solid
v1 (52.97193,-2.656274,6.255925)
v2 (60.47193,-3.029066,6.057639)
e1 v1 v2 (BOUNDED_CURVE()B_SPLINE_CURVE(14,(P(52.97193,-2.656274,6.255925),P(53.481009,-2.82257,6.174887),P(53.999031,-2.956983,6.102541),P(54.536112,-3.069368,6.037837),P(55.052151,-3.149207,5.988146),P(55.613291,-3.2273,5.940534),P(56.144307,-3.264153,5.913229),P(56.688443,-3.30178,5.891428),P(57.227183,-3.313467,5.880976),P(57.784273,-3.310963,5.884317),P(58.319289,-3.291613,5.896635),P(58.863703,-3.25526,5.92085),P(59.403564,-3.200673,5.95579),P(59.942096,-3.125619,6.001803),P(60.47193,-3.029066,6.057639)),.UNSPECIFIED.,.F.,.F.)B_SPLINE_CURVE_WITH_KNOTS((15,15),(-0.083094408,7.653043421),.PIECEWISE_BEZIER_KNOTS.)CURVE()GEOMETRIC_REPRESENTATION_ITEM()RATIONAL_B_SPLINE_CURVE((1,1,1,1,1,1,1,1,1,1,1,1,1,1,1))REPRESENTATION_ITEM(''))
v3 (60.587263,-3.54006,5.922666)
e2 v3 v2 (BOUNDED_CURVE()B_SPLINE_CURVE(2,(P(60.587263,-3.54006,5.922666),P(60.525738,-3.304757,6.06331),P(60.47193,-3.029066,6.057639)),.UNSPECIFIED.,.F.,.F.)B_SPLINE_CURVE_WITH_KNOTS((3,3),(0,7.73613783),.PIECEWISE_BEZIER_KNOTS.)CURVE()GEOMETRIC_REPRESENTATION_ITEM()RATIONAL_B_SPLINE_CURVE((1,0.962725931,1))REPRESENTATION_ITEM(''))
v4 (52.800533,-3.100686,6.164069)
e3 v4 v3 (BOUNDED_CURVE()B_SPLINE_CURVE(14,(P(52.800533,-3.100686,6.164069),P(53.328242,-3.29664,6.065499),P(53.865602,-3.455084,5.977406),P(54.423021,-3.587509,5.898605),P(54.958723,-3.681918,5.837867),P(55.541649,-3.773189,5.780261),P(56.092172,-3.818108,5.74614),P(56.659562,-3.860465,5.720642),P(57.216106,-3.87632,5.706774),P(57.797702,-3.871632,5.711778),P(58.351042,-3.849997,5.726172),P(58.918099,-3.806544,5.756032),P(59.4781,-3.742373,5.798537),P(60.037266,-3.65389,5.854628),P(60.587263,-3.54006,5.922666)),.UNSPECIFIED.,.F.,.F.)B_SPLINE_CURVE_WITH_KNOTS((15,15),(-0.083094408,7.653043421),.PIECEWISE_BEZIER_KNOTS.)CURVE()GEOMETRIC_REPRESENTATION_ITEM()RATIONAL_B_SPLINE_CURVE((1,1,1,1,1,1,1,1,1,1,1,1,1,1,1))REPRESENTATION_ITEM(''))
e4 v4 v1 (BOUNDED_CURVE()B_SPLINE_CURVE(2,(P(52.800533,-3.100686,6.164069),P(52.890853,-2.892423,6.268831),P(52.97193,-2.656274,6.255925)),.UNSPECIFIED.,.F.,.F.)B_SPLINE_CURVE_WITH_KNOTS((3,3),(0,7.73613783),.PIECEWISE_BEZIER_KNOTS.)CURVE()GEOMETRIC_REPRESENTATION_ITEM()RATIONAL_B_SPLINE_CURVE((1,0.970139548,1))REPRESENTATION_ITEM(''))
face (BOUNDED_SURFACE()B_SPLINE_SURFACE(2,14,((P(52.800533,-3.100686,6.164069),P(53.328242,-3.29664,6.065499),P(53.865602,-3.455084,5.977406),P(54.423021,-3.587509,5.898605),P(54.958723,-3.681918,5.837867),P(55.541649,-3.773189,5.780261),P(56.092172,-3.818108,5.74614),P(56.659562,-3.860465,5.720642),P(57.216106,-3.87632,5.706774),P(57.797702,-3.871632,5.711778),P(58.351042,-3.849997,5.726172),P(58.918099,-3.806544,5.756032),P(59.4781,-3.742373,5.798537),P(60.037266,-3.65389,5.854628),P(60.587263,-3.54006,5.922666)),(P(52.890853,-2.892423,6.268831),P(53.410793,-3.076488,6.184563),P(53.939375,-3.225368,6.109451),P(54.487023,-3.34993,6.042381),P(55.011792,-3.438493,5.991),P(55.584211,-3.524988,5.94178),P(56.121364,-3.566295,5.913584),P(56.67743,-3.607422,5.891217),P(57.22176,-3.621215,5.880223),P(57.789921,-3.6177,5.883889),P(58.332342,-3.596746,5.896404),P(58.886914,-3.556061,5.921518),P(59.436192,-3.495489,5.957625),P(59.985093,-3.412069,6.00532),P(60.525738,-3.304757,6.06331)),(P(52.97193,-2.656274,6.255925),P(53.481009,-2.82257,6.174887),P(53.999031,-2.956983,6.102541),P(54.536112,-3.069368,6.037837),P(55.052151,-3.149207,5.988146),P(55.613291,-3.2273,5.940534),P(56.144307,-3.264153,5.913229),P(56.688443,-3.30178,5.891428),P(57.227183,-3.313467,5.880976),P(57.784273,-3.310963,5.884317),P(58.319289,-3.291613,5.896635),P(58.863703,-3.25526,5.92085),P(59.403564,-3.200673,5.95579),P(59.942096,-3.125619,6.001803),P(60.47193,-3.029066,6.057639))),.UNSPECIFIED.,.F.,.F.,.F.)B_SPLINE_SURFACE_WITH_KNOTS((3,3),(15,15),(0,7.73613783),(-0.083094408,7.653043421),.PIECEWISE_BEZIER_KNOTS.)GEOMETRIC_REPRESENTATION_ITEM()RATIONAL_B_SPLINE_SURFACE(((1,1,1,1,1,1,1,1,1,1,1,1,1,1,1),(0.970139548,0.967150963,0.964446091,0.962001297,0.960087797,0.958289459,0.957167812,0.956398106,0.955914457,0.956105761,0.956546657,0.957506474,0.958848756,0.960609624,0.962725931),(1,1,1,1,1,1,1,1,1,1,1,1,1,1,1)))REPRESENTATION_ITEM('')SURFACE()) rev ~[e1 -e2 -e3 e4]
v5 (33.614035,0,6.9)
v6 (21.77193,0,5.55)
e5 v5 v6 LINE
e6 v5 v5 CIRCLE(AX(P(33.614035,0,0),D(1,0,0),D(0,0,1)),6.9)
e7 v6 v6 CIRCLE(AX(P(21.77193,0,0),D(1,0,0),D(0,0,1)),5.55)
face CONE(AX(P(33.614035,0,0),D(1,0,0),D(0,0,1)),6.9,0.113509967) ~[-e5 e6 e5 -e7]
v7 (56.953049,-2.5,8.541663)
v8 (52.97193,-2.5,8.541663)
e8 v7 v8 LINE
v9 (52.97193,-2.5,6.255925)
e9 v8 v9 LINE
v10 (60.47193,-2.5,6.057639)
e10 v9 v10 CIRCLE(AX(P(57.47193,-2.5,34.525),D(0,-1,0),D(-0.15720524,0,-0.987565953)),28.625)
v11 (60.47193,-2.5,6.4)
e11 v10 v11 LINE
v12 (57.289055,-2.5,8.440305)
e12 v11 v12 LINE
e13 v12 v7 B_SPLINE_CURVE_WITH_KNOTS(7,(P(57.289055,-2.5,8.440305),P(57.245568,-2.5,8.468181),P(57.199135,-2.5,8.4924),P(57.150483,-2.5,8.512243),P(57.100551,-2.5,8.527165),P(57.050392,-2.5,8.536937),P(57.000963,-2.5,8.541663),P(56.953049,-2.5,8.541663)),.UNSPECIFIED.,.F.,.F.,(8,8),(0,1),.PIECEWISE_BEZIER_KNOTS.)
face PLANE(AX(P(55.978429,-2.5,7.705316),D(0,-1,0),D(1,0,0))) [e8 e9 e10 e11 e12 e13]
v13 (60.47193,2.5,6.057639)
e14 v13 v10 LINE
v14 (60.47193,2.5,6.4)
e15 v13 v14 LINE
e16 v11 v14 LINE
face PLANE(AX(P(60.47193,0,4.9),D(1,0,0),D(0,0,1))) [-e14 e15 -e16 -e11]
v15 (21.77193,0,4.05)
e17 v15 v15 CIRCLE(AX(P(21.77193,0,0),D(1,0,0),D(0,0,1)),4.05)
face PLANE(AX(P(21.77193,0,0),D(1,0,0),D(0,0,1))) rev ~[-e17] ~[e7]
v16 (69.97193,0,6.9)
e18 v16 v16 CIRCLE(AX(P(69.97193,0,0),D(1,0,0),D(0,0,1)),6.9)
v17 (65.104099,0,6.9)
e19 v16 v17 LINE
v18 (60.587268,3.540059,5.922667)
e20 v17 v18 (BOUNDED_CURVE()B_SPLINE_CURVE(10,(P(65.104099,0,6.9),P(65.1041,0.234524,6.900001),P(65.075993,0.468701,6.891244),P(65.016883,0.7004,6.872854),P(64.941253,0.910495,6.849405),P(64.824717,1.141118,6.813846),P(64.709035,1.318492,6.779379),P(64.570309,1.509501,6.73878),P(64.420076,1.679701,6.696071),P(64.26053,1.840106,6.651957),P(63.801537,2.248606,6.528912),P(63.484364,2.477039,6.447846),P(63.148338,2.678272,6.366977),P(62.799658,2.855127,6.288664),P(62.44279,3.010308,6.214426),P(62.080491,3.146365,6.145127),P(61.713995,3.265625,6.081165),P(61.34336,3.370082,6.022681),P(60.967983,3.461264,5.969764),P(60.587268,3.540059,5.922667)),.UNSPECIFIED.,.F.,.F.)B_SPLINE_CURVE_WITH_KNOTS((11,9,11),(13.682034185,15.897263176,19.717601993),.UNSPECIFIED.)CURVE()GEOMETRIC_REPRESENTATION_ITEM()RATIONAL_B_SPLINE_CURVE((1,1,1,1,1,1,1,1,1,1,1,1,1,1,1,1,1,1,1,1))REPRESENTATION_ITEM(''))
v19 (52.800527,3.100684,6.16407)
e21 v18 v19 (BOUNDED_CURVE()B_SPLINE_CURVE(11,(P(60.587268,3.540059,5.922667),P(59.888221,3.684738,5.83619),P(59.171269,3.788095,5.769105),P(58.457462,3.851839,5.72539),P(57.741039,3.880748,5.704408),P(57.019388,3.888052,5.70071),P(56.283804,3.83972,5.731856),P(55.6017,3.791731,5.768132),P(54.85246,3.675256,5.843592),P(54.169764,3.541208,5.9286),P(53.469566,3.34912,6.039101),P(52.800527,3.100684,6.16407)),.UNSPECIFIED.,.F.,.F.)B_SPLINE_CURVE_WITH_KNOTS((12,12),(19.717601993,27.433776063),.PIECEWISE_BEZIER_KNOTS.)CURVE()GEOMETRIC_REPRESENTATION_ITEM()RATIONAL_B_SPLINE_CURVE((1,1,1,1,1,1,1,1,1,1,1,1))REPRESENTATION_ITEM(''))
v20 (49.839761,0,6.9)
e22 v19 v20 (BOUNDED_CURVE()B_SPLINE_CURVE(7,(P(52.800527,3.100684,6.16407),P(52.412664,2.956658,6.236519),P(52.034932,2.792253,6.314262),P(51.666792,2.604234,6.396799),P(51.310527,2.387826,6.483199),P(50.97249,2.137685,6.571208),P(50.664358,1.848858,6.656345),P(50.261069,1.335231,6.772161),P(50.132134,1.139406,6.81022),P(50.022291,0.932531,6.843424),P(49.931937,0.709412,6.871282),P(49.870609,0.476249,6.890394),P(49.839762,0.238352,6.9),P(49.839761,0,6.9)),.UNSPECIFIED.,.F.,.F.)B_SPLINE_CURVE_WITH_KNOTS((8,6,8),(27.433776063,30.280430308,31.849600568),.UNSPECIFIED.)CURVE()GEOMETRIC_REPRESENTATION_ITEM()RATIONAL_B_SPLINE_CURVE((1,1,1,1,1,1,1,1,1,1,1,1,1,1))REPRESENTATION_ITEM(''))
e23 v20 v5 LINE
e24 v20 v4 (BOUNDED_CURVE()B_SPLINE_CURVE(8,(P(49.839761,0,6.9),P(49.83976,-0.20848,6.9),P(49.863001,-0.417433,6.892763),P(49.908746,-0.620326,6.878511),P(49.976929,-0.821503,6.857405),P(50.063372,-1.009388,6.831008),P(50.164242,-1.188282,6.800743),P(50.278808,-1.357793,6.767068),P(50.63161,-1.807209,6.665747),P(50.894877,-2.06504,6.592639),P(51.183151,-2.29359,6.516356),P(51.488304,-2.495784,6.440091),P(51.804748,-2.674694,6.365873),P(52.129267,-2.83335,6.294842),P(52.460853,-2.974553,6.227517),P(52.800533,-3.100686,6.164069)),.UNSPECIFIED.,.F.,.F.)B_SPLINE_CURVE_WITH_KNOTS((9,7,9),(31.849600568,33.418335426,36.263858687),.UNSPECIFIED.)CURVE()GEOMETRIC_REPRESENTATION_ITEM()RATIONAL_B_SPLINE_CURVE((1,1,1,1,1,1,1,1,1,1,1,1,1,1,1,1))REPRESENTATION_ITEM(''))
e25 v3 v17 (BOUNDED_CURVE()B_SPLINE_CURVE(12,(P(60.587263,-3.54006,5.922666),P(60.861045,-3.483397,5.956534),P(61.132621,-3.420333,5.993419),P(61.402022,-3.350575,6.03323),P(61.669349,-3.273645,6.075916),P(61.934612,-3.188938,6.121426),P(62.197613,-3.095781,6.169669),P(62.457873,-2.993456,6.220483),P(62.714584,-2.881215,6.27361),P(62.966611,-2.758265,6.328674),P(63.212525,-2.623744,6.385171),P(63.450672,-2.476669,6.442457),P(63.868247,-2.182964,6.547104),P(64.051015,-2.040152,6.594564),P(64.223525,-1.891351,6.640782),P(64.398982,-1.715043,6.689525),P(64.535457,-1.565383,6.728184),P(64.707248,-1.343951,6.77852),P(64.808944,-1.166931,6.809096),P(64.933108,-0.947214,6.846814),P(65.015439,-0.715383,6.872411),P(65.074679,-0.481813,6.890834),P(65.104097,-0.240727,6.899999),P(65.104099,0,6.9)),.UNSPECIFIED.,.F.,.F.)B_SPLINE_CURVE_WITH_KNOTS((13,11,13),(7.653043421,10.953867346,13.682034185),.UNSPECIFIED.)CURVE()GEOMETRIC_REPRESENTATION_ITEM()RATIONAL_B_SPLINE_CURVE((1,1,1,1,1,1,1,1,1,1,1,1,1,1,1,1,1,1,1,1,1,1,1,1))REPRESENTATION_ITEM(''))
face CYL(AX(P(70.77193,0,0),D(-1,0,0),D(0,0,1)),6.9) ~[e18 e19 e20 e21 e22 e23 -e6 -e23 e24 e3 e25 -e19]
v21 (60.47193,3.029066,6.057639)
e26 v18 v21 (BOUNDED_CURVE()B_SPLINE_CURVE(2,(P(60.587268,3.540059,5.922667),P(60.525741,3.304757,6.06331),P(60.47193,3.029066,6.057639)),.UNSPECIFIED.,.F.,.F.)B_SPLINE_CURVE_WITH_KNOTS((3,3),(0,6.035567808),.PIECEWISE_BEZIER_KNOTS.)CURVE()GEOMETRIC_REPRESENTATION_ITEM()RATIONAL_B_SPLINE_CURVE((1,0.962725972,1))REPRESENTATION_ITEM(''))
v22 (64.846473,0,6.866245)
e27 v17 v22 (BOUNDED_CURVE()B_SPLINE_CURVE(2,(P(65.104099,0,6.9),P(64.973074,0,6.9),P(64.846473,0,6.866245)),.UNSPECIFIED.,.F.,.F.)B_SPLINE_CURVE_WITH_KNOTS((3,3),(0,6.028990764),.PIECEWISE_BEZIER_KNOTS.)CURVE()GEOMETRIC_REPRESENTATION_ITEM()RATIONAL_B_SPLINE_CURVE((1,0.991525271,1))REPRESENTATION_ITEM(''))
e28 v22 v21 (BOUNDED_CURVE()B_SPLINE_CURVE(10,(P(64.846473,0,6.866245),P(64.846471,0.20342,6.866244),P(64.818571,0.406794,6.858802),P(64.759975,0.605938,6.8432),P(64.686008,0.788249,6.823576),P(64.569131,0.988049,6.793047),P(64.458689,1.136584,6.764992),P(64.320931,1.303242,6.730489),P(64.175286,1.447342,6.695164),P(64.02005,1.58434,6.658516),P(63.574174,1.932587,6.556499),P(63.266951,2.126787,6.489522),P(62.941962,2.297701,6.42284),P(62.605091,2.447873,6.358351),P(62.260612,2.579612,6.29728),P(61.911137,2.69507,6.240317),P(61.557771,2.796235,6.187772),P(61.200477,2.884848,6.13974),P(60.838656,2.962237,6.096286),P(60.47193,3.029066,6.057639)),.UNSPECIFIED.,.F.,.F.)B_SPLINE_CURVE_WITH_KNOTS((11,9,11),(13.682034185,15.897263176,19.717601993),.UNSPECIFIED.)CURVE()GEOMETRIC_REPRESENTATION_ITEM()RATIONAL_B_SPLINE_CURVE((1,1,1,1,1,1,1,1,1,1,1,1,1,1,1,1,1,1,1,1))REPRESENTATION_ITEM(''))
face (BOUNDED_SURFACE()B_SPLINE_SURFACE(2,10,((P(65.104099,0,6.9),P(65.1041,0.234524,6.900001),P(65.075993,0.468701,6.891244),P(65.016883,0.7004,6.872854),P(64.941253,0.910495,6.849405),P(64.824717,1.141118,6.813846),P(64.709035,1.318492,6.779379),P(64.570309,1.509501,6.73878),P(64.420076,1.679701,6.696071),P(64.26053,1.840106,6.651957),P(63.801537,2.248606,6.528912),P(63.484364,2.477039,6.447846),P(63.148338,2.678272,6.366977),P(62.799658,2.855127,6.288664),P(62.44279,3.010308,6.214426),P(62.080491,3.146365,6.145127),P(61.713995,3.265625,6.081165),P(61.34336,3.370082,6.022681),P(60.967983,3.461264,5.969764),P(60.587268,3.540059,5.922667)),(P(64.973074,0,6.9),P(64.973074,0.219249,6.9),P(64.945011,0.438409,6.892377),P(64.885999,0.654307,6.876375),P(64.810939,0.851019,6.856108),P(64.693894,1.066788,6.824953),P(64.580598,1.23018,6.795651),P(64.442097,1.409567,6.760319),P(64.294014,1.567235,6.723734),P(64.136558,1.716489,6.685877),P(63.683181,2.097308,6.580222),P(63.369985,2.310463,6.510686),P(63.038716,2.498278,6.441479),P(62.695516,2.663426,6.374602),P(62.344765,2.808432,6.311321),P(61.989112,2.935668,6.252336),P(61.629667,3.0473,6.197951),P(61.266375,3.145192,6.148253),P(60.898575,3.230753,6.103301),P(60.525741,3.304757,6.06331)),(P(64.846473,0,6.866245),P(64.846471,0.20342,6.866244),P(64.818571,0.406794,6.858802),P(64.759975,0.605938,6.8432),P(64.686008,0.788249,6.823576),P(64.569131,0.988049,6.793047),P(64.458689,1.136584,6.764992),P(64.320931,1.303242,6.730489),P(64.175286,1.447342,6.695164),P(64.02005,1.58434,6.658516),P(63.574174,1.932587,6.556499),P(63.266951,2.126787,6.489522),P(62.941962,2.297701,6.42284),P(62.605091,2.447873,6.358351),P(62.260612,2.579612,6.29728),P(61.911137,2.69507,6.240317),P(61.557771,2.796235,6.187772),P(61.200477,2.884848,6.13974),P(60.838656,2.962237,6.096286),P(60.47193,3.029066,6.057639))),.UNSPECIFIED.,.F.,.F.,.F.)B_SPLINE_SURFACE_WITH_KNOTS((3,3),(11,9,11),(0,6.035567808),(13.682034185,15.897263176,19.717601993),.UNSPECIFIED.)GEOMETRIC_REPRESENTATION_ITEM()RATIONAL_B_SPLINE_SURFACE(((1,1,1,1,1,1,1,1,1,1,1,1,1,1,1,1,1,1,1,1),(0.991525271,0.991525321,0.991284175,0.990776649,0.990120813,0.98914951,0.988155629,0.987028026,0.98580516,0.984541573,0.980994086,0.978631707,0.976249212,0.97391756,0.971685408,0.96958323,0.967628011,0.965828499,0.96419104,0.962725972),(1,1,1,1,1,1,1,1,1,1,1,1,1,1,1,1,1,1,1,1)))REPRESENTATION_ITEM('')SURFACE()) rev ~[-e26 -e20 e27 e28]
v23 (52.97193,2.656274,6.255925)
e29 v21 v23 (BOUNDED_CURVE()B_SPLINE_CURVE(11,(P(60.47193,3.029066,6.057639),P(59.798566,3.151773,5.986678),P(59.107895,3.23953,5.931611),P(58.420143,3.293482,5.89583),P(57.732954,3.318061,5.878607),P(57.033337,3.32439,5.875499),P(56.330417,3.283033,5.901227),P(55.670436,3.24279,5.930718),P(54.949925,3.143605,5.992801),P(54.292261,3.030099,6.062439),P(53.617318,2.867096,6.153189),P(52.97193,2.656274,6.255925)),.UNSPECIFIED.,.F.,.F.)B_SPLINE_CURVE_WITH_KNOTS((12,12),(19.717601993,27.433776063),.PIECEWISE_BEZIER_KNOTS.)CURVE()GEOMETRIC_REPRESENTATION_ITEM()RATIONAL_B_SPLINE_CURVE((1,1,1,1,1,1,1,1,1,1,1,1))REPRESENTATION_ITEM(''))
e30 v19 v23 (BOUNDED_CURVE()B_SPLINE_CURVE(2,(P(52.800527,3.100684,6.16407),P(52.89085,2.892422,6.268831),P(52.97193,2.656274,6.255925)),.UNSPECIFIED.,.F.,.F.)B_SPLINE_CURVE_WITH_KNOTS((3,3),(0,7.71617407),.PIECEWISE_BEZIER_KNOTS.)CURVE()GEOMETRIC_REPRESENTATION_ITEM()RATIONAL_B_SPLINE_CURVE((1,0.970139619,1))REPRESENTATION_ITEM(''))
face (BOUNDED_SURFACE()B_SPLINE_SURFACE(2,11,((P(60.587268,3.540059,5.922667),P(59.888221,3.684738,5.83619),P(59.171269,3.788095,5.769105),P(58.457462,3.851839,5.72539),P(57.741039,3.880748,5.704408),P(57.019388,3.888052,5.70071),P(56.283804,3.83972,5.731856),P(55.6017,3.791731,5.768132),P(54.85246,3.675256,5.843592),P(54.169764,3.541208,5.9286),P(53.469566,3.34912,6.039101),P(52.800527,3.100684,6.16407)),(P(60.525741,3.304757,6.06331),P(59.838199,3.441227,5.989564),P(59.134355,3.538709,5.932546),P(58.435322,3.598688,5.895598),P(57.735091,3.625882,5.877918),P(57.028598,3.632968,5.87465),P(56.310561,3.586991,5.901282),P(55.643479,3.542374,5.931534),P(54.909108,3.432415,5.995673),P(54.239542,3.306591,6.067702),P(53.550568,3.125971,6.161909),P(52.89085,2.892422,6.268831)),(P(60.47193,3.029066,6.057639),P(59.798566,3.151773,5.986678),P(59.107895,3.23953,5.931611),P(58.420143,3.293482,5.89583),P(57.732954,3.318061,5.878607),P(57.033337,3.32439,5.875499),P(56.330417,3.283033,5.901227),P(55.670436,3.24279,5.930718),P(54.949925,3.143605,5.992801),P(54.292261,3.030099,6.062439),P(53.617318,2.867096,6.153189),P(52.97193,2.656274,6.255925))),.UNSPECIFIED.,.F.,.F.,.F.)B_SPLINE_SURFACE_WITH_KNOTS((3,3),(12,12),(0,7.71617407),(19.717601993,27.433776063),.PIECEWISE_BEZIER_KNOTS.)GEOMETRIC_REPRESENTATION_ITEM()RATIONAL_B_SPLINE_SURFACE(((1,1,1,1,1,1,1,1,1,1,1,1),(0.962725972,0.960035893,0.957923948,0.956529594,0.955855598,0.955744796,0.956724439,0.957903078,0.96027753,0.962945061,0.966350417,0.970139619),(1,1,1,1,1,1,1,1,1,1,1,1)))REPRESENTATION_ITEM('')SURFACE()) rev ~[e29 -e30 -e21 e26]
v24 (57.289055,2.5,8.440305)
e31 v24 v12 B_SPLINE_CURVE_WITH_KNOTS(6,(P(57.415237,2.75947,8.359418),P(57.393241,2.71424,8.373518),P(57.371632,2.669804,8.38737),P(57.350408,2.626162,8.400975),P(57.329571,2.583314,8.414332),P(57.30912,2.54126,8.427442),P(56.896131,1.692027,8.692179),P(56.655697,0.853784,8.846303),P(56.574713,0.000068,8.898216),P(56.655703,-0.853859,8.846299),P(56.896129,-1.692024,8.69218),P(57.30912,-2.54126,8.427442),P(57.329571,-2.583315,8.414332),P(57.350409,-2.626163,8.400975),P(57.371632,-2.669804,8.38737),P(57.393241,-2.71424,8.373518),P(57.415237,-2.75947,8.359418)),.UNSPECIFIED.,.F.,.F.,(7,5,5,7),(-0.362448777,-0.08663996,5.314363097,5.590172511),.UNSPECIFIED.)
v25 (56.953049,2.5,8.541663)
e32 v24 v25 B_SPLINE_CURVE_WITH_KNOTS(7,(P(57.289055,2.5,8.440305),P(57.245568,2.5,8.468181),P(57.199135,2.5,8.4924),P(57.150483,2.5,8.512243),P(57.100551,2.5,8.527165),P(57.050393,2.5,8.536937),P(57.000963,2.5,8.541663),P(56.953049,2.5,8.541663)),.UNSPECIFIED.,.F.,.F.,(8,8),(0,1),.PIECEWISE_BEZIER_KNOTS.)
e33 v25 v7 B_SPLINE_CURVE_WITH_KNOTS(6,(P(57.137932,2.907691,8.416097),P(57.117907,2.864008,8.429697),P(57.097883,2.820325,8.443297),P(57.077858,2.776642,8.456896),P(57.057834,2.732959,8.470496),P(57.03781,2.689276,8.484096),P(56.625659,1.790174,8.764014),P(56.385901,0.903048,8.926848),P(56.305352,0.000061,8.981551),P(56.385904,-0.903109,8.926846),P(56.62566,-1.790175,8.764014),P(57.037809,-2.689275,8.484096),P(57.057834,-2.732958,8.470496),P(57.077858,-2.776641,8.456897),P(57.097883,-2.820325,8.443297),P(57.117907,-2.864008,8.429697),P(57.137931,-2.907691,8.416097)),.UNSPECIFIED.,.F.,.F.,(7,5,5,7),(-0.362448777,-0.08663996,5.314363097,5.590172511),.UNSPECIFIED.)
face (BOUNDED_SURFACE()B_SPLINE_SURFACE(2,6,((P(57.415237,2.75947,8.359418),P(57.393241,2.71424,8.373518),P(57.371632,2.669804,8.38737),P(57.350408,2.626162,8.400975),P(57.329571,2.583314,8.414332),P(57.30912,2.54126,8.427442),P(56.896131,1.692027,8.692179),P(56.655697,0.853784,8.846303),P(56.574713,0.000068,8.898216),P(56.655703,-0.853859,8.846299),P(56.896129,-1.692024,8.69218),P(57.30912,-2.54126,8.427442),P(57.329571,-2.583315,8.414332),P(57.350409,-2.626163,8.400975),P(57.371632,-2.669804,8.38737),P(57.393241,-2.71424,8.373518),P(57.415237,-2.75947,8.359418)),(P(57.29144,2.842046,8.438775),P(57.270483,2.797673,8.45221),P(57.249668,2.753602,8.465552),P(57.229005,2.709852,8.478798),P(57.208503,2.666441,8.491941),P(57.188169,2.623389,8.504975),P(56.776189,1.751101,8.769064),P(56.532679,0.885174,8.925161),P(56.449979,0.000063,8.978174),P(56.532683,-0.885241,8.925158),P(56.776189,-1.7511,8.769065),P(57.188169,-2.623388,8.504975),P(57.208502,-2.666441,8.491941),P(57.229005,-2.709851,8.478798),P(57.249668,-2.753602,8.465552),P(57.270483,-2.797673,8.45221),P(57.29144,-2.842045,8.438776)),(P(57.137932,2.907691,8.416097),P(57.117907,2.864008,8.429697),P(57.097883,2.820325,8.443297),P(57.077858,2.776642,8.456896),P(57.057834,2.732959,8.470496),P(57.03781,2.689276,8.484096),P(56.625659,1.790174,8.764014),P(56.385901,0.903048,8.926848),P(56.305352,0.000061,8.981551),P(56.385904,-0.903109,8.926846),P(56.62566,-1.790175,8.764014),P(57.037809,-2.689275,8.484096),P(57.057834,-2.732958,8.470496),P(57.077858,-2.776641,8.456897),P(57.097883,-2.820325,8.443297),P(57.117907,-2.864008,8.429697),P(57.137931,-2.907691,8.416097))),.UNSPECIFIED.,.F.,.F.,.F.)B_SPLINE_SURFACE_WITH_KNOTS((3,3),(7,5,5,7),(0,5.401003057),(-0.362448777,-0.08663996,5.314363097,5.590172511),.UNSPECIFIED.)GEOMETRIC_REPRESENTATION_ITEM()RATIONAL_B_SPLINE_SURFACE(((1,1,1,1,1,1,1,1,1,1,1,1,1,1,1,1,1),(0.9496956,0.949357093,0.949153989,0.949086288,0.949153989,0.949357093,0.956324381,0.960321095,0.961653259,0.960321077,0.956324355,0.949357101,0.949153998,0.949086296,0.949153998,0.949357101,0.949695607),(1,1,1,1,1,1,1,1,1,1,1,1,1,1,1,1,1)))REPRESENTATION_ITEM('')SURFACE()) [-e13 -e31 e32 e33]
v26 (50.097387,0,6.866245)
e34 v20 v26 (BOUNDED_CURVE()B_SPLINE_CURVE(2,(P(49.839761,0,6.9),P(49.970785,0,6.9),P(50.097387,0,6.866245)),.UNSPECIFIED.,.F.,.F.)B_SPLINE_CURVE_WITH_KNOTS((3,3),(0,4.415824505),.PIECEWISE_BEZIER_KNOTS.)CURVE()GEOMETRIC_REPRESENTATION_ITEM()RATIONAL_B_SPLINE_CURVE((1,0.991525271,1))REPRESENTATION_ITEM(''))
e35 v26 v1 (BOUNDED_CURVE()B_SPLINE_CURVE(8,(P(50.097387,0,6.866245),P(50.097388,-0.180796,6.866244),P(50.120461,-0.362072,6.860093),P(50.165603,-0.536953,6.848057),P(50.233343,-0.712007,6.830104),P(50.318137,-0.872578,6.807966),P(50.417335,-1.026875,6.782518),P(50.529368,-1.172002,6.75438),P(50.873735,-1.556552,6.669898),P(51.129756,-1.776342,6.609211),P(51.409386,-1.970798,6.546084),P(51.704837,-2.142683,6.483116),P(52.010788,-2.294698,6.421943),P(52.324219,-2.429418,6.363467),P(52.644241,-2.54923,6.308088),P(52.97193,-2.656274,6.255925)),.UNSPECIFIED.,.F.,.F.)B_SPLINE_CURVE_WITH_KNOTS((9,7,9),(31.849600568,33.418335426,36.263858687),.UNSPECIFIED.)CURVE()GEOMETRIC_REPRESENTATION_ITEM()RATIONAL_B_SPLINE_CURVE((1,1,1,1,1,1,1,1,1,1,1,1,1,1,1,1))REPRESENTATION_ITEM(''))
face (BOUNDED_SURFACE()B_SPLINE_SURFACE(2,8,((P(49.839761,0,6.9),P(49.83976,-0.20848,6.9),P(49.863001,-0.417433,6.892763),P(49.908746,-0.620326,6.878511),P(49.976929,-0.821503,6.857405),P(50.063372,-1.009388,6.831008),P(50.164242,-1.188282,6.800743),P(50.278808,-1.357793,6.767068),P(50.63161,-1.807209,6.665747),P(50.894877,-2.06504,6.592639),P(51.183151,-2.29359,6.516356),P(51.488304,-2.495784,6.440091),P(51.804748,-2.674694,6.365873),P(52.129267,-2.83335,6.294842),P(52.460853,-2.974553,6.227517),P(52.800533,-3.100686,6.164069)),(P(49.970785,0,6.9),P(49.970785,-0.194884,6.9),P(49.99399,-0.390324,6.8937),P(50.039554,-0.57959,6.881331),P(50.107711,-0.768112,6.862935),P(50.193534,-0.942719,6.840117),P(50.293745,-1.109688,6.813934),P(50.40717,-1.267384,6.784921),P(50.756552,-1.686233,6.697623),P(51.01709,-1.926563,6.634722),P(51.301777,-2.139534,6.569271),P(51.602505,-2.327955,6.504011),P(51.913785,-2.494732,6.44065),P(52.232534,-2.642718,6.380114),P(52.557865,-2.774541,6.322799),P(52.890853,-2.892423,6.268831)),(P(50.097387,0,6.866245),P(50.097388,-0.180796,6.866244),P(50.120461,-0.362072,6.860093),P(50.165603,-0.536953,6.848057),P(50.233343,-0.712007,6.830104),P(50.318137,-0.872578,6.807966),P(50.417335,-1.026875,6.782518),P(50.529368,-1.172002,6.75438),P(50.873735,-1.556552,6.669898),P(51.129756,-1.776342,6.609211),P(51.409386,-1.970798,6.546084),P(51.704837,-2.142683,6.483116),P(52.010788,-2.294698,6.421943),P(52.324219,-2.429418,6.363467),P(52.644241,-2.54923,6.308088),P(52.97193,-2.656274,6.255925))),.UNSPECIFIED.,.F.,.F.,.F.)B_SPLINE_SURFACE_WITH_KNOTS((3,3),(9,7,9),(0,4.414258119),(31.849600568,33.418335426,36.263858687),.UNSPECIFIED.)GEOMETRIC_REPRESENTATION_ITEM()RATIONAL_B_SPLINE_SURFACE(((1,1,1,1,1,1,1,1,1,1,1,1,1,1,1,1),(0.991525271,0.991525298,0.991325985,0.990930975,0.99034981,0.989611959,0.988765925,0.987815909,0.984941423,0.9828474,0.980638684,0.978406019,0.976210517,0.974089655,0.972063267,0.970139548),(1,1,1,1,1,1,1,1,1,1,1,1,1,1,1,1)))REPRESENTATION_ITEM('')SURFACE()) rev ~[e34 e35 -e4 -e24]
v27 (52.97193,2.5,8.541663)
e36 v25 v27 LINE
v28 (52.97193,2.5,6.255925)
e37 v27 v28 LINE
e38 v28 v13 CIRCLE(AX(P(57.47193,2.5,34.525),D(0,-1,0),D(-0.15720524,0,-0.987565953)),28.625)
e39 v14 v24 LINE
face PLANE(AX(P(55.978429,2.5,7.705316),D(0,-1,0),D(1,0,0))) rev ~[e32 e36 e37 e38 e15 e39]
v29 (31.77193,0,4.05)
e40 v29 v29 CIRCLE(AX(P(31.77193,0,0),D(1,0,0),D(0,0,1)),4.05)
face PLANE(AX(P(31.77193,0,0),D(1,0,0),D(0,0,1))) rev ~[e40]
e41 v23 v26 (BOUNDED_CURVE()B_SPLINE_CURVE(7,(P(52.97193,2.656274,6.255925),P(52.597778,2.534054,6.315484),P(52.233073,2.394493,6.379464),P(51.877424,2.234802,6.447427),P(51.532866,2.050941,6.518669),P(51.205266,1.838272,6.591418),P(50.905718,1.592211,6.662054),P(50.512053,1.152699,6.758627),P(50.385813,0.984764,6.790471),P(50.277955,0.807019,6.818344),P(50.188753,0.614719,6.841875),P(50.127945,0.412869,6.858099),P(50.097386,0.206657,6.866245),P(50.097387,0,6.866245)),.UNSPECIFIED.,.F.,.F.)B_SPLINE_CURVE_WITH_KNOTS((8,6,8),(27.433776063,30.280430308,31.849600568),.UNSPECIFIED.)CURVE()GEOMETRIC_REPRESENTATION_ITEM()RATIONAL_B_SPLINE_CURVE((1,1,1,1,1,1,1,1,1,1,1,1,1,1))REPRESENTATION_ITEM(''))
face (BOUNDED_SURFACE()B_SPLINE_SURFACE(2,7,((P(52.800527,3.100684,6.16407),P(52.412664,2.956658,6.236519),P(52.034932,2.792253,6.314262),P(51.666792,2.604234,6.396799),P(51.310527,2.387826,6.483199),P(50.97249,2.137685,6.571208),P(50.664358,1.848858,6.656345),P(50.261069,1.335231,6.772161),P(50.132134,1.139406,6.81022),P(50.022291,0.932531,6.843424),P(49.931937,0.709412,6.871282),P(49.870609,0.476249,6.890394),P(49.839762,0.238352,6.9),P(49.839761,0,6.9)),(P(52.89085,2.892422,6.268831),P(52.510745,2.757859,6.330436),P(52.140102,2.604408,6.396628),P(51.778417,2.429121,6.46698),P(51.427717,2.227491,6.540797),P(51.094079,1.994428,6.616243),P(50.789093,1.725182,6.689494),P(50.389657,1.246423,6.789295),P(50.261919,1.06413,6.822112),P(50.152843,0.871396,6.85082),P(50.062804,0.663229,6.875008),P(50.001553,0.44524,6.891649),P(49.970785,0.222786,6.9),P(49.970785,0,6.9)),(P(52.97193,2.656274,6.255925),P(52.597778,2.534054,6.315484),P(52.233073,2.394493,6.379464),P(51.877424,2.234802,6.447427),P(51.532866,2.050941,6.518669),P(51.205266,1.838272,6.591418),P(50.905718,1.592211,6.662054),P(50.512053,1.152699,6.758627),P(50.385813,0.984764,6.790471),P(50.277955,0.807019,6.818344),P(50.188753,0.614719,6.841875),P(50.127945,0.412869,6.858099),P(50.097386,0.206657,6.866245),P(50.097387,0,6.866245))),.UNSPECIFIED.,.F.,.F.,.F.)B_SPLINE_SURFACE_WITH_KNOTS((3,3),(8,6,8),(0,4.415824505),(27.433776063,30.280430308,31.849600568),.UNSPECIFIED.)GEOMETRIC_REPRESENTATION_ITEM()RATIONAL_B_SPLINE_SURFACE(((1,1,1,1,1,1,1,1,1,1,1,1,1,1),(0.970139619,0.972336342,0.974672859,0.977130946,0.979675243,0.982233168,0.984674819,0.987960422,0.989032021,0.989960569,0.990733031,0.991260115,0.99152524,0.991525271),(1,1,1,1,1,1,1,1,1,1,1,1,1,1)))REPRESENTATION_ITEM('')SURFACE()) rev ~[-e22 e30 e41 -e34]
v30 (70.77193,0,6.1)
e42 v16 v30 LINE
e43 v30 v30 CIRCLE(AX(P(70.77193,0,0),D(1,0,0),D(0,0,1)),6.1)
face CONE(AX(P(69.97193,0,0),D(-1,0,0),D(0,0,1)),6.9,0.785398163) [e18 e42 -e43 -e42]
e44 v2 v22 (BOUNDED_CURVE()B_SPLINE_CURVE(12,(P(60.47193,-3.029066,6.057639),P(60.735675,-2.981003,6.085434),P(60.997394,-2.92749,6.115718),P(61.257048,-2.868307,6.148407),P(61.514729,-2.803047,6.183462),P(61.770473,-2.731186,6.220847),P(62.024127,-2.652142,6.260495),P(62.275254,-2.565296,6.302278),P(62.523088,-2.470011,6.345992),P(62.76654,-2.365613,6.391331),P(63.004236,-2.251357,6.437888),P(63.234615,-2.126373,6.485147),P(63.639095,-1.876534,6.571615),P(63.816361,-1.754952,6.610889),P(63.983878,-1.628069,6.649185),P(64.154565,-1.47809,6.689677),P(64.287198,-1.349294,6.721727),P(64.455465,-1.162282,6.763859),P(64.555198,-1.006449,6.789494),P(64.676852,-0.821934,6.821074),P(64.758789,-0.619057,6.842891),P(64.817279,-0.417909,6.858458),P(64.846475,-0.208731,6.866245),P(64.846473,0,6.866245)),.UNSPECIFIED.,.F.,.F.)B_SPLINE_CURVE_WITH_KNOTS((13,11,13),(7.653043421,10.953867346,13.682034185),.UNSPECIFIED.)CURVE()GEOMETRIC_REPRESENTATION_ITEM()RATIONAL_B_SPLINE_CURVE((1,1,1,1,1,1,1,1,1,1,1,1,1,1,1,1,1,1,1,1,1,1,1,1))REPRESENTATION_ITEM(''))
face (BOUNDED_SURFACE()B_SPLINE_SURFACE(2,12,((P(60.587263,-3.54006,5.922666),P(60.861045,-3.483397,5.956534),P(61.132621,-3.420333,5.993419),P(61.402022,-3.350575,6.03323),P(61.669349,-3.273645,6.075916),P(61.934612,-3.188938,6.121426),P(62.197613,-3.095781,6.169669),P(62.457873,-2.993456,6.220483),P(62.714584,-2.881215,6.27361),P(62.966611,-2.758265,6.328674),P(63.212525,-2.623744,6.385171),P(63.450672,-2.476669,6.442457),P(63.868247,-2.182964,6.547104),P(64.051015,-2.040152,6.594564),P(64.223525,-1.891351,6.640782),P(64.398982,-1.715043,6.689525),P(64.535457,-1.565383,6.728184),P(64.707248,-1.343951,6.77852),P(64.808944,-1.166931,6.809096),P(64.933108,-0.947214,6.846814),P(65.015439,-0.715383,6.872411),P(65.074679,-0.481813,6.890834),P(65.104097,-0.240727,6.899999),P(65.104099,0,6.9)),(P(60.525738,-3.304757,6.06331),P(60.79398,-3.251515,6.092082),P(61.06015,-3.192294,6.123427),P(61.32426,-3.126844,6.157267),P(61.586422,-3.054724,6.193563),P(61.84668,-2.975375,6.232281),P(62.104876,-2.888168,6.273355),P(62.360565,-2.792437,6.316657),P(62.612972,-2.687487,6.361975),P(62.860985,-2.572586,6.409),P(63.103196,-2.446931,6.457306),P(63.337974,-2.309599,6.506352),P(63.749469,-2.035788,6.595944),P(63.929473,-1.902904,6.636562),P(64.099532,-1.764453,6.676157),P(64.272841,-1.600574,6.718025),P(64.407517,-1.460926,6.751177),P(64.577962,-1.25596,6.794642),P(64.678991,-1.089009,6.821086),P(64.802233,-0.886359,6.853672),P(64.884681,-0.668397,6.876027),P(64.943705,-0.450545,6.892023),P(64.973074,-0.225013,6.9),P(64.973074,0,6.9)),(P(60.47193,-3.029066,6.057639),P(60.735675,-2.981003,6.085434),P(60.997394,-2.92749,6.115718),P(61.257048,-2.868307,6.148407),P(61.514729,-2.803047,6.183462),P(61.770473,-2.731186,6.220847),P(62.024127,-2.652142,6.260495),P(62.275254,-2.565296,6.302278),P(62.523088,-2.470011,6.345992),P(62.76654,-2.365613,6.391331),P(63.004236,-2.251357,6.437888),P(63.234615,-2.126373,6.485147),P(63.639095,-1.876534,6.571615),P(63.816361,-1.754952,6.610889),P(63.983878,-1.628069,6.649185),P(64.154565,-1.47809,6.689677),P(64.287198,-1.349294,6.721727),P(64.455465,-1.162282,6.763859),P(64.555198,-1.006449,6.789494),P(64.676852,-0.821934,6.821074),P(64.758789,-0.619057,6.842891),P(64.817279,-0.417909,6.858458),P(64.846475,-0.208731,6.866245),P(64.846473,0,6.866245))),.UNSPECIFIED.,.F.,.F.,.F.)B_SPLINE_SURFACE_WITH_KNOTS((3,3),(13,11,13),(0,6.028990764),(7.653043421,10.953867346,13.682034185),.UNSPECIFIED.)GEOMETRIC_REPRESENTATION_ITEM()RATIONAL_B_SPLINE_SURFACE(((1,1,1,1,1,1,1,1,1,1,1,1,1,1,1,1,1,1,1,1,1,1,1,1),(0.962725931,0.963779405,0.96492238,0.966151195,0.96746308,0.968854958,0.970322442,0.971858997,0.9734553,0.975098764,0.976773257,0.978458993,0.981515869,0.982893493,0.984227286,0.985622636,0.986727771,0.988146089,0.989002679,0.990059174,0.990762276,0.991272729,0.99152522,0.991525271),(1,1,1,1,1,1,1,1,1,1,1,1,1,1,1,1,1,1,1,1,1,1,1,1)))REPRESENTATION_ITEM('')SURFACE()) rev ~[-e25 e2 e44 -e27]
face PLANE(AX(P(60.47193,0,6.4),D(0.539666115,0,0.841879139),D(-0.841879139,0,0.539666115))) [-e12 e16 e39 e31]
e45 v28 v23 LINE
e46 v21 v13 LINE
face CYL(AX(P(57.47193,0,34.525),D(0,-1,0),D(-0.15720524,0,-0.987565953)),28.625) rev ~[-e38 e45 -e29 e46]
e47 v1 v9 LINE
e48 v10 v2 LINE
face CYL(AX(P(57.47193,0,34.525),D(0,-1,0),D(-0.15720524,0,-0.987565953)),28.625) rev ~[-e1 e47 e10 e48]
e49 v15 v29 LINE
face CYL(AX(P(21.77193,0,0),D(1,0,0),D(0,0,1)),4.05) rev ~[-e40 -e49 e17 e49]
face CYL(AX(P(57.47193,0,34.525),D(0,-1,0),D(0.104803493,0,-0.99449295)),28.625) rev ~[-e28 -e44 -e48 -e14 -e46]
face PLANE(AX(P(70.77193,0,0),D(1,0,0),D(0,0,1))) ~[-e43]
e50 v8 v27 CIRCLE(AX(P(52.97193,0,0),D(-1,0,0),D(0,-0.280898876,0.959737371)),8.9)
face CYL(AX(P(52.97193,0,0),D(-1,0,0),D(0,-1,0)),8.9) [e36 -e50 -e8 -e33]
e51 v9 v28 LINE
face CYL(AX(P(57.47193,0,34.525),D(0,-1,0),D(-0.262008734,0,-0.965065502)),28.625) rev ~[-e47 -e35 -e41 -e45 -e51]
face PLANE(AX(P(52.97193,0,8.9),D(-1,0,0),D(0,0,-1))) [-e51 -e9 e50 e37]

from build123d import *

# Parameters (mm, degrees)
F4_DEPTH = 12.5
F5_R     = 1
F6_DEPTH = 2.5
F7_SIZE  = 0.8
F8_R     = 9.2444577991
F8_R_2   = 8.9
F9_DEPTH = 17.801
F10_R    = 0.5


with BuildPart() as f2:
    # F1 (on Front) → F2 (revolve)
    with BuildSketch(Plane.XZ):
        Polygon((33.6140350877, 6.9), (21.7719298246, 5.55), (21.7719298246, 4.05), (31.7719298246, 4.05), (31.7719298246, 0), (70.7719298246, 0), (70.7719298246, 6.9), align=None)
    revolve(axis=Axis((6, 0, 0), (1, 0, 0)))

    # F3 (on Front) → F4 (cut, symmetric)
    with BuildSketch(Plane.XZ):
        with BuildLine():
            Line((52.9719298246, 6.9), (52.9719298246, 6.2559245818))
            ThreePointArc((52.9719298246, 6.2559245818), (56.7154053617, 5.909998764), (60.4719298246, 6.0576393039))
            Line((60.4719298246, 6.0576393039), (60.4719298246, 6.4))
            Line((60.4719298246, 6.4), (59.6919298246, 6.9))
            Line((59.6919298246, 6.9), (52.9719298246, 6.9))
        make_face()
        with BuildLine():
            Line((60.4719298246, 6.4), (60.4719298246, 6.0576393039))
            ThreePointArc((60.4719298246, 6.0576393039), (62.7387972888, 6.3887114723), (64.9719298246, 6.9))
            Line((64.9719298246, 6.9), (59.6919298246, 6.9))
            Line((59.6919298246, 6.9), (60.4719298246, 6.4))
        make_face()
        with BuildLine():
            ThreePointArc((49.9719298246, 6.9), (51.4632936826, 6.5377365269), (52.9719298246, 6.2559245818))
            Line((52.9719298246, 6.2559245818), (52.9719298246, 6.9))
            Line((52.9719298246, 6.9), (49.9719298246, 6.9))
        make_face()
    extrude(amount=F4_DEPTH, both=True, mode=Mode.SUBTRACT)

    # F5
    f5_edges = [f2.edges().sort_by_distance(p)[0] for p in [
        (57.47193, -3.577709, 5.9),
        (57.47193, 3.577709, 5.9),
    ]]
    fillet(f5_edges, radius=F5_R)

    # F3 (on Front) → F6 (join, symmetric)
    with BuildSketch(Plane.XZ):
        Polygon((52.9719298246, 8.9), (52.9719298246, 6.9), (59.6919298246, 6.9), (56.5719298246, 8.9), align=None)
        with BuildLine():
            Line((52.9719298246, 6.9), (52.9719298246, 6.2559245818))
            ThreePointArc((52.9719298246, 6.2559245818), (56.7154053617, 5.909998764), (60.4719298246, 6.0576393039))
            Line((60.4719298246, 6.0576393039), (60.4719298246, 6.4))
            Line((60.4719298246, 6.4), (59.6919298246, 6.9))
            Line((59.6919298246, 6.9), (52.9719298246, 6.9))
        make_face()
        with BuildLine():
            Line((52.9719298246, 6.2559245818), (52.9719298246, 4.9))
            Line((52.9719298246, 4.9), (60.4719298246, 4.9))
            Line((60.4719298246, 4.9), (60.4719298246, 6.0576393039))
            ThreePointArc((60.4719298246, 6.0576393039), (56.7154053617, 5.909998764), (52.9719298246, 6.2559245818))
        make_face()
    extrude(amount=F6_DEPTH, both=True)

    # F7
    f7_edges = [f2.edges().sort_by_distance(p)[0] for p in [
        (70.77193, 0, -6.9),
    ]]
    chamfer(f7_edges, length=F7_SIZE)

    # F8 (on face) → F9 (cut, through all)
    with BuildSketch(Plane(origin=(52.9719298246, 0, 0), x_dir=(0, -1, 0), z_dir=(-1, 0, 0))):
        Circle(F8_R)
        Circle(F8_R_2, mode=Mode.SUBTRACT)
    extrude(amount=-F9_DEPTH, mode=Mode.SUBTRACT)

    # F10
    f10_edges = [f2.edges().sort_by_distance(p)[0] for p in [
        (56.718854, -1.291345, 8.805818),
        (56.718854, 1.291345, 8.805818),
    ]]
    fillet(f10_edges, radius=F10_R)


solid = f2.part
